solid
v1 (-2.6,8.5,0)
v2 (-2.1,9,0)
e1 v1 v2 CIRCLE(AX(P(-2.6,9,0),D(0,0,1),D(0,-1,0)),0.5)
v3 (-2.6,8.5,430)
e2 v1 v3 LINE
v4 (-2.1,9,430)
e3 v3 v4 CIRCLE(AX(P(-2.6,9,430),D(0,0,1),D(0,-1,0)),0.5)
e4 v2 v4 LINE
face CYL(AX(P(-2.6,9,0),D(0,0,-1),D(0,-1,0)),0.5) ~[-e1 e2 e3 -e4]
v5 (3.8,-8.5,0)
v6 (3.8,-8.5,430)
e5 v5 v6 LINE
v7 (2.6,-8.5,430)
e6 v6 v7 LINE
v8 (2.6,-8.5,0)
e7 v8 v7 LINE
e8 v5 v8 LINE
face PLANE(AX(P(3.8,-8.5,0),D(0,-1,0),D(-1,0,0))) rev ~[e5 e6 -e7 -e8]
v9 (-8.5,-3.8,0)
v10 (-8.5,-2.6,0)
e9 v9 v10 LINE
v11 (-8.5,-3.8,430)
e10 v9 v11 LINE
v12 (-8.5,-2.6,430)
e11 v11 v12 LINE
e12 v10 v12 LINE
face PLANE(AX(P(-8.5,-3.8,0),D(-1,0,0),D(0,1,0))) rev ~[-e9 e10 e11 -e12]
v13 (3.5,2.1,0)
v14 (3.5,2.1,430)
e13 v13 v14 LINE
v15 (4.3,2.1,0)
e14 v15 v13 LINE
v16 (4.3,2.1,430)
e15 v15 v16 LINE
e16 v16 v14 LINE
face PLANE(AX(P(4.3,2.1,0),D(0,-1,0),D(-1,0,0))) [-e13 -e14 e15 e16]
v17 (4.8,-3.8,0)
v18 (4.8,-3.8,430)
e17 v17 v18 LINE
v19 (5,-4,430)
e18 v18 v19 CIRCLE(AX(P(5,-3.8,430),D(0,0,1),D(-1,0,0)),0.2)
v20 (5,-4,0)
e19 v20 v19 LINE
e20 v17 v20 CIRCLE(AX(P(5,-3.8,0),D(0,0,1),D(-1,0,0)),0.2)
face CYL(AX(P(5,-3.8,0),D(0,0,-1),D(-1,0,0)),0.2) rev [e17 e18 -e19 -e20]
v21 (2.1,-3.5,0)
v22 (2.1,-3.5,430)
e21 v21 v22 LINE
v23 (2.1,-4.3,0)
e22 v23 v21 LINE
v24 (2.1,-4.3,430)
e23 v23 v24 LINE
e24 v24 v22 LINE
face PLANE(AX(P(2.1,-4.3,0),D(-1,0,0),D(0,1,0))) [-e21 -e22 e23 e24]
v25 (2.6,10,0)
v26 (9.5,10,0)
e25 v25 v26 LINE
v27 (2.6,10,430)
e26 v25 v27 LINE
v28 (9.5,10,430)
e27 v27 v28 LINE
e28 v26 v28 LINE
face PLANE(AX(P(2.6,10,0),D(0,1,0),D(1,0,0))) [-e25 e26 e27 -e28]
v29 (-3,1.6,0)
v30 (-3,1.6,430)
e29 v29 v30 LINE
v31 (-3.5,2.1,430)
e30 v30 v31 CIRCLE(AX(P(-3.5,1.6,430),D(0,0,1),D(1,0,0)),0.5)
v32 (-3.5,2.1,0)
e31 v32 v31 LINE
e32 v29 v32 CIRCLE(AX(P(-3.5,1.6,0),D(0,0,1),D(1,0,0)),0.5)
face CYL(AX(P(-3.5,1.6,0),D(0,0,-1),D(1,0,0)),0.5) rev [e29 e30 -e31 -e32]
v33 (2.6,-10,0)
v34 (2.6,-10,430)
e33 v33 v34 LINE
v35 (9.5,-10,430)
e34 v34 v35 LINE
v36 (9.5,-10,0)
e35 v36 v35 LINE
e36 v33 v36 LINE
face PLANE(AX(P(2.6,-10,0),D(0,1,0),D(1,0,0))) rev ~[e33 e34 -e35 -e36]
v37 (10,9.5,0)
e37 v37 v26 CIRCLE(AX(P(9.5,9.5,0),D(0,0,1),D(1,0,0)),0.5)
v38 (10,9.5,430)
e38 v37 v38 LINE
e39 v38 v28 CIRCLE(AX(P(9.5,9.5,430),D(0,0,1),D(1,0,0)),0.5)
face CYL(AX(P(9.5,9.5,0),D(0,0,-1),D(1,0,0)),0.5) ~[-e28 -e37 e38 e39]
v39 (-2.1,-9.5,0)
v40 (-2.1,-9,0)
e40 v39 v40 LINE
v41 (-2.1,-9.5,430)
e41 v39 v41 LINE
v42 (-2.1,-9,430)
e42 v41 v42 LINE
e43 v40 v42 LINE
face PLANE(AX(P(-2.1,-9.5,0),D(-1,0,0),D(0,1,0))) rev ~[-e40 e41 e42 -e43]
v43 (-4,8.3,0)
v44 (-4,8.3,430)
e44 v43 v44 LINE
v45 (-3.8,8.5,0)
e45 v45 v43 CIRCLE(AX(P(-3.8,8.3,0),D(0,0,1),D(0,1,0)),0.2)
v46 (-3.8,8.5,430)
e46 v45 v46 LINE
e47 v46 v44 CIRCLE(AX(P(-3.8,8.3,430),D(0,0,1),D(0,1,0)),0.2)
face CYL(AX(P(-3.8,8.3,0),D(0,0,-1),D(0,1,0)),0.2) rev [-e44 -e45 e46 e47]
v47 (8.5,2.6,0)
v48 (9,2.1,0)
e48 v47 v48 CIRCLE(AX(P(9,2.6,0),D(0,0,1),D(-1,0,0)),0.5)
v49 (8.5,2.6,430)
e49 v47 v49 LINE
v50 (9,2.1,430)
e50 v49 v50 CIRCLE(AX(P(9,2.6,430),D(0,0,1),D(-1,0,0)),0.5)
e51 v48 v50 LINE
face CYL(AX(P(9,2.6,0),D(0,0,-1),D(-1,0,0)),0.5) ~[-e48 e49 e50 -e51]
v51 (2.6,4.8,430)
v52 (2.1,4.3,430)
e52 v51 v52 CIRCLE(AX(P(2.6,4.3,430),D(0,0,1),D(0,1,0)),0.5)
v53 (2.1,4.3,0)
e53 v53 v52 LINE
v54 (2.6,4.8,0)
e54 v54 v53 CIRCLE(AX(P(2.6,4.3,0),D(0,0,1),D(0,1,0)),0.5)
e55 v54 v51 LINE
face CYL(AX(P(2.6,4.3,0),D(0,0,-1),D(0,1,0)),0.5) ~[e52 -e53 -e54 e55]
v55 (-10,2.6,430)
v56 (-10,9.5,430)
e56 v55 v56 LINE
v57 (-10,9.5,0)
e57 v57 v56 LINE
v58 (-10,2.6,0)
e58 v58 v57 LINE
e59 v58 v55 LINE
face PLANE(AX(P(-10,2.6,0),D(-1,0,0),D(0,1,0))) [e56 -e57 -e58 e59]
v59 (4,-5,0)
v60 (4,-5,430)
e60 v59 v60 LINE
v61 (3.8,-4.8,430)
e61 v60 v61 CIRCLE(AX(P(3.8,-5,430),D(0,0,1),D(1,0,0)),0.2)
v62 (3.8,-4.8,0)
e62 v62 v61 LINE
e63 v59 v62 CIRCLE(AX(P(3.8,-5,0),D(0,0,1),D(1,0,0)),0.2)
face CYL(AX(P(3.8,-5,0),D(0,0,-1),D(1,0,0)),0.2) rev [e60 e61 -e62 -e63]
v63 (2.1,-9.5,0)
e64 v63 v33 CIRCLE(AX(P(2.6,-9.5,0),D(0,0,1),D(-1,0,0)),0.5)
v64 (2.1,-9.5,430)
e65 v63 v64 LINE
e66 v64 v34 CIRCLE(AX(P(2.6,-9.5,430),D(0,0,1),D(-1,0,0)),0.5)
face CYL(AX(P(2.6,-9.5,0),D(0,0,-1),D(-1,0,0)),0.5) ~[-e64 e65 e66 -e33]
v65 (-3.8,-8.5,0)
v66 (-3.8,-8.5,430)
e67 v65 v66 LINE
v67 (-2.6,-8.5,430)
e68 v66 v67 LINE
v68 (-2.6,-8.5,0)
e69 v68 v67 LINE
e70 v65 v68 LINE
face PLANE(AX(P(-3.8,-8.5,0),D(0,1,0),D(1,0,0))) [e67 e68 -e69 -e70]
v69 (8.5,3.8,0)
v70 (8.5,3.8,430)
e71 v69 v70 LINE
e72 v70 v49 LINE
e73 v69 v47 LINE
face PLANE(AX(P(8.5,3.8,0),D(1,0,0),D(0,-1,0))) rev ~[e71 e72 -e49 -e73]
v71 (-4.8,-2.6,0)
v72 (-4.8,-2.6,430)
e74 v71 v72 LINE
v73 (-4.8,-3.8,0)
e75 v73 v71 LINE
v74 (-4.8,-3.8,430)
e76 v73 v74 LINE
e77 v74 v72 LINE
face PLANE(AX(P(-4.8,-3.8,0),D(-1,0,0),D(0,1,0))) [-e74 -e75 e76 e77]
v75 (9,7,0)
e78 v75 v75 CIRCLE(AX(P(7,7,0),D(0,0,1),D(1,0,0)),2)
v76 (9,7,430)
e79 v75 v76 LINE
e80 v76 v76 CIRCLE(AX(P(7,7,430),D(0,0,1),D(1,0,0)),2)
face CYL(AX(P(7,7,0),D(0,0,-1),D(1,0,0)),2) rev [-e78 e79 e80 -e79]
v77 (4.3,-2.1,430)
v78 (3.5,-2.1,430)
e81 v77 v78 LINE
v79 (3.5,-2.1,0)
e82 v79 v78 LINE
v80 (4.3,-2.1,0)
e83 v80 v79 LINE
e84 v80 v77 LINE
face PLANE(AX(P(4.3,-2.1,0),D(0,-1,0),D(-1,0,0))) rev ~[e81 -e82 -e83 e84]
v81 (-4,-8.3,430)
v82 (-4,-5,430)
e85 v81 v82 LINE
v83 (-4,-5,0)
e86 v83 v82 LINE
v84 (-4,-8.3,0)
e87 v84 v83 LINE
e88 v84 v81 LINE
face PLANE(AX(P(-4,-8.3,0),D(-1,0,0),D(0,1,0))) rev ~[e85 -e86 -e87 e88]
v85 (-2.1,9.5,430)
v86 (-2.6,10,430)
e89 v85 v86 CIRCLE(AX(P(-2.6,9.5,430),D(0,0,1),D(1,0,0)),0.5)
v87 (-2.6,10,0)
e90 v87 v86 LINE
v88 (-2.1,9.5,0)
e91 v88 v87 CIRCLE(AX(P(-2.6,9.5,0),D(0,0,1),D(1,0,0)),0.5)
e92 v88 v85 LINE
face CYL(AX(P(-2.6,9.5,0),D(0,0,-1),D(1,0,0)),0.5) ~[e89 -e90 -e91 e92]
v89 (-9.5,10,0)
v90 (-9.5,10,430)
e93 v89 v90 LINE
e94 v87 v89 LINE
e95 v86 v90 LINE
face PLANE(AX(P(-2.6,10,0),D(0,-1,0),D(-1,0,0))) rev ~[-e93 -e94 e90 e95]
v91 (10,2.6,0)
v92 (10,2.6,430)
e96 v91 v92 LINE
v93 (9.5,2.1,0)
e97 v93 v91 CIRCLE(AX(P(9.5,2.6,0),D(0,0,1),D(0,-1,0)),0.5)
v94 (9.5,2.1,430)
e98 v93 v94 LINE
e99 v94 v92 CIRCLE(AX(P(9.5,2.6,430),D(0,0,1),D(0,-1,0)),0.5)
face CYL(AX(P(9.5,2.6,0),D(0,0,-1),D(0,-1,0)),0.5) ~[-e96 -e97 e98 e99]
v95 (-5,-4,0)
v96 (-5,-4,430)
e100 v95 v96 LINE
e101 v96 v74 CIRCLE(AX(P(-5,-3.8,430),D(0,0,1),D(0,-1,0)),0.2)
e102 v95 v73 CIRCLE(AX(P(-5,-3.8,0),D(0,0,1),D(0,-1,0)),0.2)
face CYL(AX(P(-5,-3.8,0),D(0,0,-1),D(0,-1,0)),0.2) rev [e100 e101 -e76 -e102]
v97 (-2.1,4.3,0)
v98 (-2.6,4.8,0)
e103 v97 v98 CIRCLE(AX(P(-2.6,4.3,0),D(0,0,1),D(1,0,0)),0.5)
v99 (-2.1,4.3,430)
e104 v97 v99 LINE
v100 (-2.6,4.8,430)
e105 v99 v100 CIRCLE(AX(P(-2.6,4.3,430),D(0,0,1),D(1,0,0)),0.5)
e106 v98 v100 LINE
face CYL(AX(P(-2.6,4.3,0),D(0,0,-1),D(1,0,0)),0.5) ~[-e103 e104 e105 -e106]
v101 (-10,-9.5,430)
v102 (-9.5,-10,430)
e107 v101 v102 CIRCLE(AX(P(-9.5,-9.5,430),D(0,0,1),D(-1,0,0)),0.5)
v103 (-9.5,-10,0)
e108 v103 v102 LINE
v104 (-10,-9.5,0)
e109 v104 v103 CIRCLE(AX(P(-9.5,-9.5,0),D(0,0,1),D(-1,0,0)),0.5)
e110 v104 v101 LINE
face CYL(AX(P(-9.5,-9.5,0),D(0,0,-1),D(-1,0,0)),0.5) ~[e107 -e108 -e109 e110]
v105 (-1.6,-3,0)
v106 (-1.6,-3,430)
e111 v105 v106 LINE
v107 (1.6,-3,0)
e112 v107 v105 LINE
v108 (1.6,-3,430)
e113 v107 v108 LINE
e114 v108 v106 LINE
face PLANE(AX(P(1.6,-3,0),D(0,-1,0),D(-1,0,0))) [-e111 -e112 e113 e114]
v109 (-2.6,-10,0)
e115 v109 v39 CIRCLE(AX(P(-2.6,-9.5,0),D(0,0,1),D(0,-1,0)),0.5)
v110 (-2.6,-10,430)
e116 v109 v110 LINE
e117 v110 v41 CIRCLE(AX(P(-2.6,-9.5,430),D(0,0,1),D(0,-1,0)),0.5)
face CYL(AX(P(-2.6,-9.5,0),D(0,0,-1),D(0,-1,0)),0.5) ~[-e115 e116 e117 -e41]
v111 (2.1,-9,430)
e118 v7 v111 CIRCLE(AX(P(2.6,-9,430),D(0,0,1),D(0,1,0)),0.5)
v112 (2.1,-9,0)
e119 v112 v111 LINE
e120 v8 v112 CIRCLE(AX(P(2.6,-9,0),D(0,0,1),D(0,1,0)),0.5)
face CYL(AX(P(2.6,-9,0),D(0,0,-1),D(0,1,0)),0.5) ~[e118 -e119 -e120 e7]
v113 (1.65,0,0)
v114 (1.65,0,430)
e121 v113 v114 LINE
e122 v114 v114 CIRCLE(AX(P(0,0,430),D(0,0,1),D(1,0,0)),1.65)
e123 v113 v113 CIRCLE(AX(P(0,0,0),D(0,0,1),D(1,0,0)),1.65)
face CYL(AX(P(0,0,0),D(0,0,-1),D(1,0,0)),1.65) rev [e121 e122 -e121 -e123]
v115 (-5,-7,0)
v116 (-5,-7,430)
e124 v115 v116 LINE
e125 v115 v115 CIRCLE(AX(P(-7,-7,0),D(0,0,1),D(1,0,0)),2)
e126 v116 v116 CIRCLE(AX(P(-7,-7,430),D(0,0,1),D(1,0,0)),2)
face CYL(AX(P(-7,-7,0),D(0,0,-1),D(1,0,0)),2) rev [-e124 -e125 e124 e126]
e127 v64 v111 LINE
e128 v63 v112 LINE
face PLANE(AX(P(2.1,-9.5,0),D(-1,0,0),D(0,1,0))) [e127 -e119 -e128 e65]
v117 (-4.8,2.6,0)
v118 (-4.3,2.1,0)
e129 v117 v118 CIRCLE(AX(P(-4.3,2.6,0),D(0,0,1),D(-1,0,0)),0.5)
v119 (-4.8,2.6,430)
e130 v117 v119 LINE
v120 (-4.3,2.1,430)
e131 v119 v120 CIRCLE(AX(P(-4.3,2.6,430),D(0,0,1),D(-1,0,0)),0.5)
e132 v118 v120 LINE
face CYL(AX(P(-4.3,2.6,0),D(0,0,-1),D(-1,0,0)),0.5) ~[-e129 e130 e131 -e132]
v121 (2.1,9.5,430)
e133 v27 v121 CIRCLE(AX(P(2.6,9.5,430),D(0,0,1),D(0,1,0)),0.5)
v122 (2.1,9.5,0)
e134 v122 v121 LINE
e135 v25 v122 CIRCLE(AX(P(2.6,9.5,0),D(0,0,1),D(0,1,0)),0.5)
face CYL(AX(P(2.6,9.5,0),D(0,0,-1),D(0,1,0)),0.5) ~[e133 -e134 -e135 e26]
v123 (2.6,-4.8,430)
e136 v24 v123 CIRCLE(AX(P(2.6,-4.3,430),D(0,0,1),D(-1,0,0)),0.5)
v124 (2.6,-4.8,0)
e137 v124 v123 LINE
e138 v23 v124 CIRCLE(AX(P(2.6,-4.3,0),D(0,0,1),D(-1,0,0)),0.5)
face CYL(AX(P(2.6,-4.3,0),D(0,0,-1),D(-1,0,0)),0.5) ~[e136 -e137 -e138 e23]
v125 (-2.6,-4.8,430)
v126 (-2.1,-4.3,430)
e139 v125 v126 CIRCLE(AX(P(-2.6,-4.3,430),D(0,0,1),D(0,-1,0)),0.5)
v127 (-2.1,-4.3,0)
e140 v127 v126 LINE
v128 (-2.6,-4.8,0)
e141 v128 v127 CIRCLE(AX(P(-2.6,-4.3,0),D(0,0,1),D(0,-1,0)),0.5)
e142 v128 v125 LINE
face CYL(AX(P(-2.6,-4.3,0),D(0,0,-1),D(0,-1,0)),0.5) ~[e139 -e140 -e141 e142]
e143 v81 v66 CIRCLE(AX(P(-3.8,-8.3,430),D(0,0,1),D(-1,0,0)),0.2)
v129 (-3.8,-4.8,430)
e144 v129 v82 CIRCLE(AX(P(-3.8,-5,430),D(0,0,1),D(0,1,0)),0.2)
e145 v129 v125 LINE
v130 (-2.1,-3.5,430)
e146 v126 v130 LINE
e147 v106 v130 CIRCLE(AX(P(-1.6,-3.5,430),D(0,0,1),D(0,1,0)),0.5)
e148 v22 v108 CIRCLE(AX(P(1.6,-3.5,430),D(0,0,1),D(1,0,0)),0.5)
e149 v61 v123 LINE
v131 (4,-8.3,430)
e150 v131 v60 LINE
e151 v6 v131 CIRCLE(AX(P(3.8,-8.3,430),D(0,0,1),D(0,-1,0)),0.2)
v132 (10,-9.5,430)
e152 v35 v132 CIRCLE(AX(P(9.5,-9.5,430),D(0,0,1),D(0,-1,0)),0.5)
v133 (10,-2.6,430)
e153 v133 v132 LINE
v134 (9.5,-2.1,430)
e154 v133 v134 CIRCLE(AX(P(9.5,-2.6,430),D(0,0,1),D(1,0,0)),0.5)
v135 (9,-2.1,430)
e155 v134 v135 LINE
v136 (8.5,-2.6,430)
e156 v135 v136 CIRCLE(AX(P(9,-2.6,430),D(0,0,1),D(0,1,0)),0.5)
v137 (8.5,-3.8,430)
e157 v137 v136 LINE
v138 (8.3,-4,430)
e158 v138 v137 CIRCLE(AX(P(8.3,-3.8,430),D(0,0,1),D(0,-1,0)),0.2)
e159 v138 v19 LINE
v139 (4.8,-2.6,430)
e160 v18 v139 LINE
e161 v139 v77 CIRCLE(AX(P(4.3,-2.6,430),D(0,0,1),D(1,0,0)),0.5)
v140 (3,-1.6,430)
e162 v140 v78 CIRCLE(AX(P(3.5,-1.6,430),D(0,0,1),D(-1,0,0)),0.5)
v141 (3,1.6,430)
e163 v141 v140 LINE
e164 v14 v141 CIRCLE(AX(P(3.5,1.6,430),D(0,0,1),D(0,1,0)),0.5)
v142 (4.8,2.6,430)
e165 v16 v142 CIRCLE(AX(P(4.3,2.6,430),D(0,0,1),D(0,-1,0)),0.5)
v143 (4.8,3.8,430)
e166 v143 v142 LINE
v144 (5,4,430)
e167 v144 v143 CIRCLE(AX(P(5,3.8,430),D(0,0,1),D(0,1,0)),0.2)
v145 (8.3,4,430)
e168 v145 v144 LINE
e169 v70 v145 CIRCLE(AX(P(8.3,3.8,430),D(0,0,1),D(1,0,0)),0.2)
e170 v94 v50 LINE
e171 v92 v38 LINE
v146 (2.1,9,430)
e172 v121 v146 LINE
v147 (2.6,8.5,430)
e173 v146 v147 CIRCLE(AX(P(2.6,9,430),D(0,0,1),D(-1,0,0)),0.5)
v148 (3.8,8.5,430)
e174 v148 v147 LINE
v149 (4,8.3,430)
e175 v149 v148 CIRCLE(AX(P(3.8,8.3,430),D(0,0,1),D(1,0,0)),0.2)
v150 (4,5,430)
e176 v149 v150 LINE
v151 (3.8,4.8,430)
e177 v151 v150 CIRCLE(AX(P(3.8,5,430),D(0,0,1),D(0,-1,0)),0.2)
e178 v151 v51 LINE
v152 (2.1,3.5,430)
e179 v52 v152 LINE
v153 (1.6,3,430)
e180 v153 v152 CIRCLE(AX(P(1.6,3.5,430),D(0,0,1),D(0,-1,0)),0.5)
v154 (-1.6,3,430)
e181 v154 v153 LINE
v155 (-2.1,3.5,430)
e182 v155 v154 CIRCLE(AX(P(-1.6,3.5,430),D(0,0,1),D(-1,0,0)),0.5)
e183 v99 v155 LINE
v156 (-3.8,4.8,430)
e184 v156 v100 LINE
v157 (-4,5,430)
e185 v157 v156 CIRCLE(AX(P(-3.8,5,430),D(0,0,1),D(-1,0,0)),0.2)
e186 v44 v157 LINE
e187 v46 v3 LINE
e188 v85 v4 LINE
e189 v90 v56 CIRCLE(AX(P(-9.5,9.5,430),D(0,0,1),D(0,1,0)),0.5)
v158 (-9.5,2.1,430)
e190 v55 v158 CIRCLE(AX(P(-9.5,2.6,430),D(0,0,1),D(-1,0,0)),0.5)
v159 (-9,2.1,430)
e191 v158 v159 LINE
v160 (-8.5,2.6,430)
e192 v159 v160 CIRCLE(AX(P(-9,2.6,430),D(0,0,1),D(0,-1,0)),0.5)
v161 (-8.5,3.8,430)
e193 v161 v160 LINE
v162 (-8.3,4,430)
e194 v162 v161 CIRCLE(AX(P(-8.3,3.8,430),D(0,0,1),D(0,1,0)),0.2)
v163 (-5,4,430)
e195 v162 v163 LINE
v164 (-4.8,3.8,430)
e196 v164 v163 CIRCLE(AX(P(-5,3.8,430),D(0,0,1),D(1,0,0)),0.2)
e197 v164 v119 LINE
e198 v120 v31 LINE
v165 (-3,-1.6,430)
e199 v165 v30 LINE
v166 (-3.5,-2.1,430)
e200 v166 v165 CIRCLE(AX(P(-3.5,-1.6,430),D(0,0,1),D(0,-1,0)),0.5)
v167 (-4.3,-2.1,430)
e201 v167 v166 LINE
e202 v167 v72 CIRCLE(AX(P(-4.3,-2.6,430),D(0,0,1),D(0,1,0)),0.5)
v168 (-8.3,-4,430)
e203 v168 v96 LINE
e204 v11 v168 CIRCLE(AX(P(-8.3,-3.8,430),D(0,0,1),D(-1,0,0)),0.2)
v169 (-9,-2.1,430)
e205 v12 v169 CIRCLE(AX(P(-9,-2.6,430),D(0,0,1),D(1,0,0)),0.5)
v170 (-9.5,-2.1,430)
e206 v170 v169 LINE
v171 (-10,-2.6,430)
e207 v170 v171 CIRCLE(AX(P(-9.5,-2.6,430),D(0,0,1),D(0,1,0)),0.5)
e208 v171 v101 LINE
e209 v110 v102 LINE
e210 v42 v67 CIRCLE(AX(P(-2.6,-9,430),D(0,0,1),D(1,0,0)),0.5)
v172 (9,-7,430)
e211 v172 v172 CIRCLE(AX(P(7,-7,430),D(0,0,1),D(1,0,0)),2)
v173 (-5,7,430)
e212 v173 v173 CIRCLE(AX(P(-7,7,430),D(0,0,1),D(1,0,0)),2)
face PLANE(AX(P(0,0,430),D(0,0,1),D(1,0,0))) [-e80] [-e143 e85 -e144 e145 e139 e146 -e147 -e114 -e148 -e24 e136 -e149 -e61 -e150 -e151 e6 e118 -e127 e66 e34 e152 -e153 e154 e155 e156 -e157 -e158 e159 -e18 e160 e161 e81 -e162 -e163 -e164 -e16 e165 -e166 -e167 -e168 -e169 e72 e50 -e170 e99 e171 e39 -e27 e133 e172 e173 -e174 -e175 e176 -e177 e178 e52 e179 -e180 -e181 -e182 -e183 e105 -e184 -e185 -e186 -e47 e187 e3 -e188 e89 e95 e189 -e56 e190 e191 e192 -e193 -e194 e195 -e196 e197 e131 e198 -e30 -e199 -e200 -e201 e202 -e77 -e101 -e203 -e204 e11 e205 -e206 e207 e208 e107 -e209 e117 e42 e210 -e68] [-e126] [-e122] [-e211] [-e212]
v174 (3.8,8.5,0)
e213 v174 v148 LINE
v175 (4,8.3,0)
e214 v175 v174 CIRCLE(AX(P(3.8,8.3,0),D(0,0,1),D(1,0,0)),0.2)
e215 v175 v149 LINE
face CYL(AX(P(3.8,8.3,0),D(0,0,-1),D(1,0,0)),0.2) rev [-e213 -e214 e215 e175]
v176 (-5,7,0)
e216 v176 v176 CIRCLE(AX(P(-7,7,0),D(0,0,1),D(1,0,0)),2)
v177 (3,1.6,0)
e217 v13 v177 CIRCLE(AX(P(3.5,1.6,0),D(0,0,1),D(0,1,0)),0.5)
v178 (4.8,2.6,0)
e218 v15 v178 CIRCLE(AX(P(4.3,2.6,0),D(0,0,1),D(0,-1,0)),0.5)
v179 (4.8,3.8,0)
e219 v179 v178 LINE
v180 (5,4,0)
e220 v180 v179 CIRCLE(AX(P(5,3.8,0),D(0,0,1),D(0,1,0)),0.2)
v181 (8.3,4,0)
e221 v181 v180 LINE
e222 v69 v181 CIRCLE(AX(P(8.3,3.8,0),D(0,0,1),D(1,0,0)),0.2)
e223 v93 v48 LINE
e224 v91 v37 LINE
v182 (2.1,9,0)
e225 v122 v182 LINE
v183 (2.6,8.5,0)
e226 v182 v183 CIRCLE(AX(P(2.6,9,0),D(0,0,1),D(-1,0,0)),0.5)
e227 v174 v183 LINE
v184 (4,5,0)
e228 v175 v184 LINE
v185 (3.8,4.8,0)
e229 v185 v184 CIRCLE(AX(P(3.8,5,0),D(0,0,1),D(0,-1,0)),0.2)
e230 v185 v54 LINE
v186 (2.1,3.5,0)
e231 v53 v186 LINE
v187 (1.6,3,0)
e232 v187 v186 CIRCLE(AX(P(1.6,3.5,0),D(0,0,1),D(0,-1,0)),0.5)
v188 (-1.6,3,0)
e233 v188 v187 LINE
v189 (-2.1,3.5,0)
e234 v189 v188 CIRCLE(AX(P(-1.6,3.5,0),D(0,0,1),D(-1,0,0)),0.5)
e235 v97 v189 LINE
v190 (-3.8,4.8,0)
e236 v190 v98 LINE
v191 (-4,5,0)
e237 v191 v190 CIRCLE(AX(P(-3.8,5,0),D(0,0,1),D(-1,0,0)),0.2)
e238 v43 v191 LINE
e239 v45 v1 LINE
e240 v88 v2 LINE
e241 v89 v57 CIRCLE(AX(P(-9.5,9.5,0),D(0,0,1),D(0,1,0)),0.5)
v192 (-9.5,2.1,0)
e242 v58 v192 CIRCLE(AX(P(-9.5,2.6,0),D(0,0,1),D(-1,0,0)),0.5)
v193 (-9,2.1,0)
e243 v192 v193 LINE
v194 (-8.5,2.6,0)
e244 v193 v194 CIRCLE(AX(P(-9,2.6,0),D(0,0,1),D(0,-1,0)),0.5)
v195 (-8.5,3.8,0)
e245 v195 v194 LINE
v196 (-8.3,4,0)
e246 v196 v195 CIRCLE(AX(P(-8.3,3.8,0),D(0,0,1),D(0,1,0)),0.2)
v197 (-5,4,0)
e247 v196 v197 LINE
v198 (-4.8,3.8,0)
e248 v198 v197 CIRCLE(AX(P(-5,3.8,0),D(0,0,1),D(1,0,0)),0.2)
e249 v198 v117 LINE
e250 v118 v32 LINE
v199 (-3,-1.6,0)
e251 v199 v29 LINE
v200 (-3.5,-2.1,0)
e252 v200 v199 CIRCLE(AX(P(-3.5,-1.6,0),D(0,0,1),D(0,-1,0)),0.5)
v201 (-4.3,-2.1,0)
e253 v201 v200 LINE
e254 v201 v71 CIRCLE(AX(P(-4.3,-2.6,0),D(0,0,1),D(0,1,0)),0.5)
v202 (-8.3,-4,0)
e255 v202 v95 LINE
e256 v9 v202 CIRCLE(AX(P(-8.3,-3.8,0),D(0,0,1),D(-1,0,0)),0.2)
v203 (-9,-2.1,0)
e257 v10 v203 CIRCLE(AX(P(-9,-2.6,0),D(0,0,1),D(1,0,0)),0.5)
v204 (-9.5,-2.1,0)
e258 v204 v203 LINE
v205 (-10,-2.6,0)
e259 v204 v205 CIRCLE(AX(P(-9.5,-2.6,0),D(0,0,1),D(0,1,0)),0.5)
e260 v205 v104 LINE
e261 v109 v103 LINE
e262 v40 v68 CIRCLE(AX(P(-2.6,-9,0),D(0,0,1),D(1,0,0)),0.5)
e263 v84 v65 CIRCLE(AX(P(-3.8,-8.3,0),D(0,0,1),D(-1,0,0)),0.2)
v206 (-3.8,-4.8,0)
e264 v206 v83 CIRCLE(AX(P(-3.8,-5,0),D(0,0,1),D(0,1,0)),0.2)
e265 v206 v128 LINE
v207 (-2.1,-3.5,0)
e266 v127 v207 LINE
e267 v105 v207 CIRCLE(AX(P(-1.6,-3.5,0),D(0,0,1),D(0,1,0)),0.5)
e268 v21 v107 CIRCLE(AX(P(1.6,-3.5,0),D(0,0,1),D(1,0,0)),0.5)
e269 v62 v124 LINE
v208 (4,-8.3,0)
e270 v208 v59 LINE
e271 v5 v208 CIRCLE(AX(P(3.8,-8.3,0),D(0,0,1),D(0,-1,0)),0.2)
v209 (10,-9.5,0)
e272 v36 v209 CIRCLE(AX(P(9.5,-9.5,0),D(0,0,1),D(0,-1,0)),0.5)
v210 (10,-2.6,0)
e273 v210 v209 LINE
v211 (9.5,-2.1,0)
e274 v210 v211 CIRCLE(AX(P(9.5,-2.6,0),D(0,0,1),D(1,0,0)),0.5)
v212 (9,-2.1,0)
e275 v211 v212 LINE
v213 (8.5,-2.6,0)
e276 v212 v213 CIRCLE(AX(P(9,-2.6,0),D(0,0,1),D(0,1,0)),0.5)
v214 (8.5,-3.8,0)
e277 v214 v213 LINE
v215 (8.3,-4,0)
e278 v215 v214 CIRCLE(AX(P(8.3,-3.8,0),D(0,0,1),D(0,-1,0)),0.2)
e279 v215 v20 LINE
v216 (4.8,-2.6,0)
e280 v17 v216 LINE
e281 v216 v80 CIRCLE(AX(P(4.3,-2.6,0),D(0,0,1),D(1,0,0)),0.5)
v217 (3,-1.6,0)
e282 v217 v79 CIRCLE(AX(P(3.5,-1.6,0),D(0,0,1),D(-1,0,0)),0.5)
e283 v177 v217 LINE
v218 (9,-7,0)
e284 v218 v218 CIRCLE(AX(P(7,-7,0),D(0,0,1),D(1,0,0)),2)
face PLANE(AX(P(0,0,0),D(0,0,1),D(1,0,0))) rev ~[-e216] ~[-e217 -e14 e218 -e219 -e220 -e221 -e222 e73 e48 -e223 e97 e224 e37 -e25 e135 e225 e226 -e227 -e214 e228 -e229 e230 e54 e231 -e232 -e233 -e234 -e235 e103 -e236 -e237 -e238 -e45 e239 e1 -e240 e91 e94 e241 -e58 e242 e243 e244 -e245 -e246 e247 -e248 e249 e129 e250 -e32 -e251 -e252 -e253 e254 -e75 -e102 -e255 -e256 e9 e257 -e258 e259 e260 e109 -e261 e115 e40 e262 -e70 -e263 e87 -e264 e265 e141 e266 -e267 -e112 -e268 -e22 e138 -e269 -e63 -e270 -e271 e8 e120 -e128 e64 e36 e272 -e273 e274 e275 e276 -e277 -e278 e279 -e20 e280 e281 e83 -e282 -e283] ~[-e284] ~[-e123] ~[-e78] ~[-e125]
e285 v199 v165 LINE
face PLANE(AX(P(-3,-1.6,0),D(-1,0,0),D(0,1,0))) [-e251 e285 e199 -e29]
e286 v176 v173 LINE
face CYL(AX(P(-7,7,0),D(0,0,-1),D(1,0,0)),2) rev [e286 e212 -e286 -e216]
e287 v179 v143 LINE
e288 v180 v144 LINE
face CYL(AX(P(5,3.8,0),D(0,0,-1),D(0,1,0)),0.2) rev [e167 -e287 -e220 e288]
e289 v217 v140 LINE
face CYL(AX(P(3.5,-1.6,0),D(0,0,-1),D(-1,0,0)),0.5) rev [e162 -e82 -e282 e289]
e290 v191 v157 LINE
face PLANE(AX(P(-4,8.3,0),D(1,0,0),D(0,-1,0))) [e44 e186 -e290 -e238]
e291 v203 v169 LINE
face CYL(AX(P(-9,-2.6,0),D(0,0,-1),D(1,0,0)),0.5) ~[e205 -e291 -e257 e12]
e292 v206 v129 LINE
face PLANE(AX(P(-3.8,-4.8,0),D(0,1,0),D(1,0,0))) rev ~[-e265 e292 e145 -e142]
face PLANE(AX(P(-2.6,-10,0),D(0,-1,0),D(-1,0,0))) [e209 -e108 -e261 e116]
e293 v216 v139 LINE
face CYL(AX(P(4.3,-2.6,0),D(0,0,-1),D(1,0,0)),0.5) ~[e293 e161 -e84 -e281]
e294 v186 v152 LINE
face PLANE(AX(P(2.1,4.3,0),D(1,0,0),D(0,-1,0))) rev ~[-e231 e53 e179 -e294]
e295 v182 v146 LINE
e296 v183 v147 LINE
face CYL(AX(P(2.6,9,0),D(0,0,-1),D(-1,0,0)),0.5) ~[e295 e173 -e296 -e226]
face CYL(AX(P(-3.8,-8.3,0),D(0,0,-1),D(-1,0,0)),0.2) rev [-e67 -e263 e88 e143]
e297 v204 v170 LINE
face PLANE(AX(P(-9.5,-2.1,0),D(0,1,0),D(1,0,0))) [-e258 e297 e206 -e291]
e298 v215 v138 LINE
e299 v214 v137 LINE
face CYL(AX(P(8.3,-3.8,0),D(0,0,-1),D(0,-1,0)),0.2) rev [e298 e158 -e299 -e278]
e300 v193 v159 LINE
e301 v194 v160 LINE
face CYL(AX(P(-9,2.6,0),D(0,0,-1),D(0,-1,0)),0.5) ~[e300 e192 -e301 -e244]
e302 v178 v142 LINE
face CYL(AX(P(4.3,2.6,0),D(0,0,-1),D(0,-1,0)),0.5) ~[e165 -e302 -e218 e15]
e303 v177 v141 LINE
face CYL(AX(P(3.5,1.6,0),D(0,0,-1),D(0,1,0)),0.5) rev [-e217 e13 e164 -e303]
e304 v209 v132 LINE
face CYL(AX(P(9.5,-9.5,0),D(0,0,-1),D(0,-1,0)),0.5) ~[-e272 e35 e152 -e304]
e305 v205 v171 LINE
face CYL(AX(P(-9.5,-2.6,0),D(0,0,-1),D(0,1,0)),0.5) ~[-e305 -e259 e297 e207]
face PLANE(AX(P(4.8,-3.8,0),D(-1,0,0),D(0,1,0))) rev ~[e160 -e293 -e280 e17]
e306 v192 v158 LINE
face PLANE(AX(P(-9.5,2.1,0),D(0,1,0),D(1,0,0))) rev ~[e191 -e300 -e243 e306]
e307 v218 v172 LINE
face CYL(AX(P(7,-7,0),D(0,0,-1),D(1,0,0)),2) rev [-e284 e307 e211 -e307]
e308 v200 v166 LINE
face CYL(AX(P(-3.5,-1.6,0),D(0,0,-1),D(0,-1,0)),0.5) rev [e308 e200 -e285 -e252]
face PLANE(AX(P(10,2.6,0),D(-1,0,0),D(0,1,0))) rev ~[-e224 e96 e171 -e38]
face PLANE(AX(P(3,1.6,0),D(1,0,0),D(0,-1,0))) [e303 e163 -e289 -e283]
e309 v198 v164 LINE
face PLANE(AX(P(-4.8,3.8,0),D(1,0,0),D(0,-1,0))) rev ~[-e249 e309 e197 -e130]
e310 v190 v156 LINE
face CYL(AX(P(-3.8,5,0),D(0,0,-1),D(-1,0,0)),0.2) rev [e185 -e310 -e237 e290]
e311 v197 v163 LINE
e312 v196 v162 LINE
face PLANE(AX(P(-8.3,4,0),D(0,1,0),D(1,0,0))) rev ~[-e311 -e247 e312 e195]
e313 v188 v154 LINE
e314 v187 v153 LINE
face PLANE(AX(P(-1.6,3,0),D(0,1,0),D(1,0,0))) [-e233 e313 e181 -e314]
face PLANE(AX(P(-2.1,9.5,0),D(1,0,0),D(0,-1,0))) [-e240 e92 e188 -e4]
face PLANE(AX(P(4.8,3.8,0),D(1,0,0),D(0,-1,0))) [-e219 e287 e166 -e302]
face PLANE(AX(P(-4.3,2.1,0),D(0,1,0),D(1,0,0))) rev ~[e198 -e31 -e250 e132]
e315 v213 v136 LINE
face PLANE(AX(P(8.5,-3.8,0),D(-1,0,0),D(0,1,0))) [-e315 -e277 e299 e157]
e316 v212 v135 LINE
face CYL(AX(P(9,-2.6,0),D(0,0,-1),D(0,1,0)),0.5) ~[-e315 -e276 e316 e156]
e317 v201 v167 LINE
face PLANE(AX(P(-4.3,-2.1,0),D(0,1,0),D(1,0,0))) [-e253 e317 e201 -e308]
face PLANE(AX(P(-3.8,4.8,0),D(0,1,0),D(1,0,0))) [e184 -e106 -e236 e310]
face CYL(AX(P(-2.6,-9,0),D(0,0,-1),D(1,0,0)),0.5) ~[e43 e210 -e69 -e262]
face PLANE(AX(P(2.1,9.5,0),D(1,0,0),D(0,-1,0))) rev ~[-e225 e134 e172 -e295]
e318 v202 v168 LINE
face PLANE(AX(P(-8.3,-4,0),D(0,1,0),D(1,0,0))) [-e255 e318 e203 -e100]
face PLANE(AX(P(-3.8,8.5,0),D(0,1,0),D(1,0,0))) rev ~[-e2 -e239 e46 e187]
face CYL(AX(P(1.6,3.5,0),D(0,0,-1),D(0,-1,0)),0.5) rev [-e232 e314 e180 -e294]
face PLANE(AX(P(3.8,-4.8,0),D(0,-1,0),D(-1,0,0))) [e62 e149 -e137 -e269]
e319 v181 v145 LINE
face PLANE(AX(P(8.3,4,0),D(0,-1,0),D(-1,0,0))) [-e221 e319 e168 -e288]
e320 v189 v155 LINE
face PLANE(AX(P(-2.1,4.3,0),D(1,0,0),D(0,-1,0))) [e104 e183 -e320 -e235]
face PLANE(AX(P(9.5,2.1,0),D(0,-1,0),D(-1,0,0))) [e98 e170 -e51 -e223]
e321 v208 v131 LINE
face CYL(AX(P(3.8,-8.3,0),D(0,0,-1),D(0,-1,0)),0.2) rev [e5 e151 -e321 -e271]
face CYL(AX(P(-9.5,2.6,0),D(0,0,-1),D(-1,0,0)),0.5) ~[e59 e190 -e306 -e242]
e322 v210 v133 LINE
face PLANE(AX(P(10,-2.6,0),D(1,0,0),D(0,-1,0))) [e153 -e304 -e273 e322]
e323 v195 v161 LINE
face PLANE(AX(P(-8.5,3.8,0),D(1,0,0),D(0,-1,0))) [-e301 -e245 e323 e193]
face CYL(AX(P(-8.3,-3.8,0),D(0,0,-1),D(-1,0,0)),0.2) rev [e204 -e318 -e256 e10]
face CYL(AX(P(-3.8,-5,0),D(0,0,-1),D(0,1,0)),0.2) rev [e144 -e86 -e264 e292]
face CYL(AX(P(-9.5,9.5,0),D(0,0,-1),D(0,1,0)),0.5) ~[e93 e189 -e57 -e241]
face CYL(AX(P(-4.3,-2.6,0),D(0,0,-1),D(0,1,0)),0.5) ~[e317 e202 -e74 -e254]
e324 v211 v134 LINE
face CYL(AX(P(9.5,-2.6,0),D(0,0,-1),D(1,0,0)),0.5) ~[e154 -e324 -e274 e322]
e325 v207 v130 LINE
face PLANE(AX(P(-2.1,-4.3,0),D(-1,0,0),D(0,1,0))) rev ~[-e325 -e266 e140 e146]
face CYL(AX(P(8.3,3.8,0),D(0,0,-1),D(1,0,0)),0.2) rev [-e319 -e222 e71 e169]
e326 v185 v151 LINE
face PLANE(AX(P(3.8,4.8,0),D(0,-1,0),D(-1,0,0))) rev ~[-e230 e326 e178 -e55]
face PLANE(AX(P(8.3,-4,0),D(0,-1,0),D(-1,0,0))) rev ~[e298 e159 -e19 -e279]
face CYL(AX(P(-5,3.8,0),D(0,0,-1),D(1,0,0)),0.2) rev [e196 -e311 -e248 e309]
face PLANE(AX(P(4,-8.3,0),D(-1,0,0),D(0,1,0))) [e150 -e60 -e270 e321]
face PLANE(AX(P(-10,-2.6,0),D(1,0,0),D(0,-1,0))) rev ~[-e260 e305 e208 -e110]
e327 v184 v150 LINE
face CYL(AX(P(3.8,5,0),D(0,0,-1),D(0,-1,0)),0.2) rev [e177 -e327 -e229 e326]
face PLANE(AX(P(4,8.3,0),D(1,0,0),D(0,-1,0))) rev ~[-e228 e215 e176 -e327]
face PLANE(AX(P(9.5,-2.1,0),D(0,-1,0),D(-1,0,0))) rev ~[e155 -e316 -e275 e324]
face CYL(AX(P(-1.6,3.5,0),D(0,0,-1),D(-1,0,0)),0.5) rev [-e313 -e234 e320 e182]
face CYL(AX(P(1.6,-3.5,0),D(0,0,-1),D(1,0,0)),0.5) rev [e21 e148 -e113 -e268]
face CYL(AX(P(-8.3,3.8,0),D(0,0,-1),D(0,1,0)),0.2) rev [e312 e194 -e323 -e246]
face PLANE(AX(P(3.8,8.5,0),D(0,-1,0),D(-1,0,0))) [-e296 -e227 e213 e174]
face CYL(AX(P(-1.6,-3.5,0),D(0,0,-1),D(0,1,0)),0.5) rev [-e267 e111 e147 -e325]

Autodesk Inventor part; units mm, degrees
ref_plane "YZ Plane" through (0, 0, 0) normal (1, 0, 0) x (0, 1, 0)
ref_plane "XZ Plane" through (0, 0, 0) normal (0, 1, 0) x (-1, 0, 0)
ref_plane "XY Plane" through (0, 0, 0) normal (0, 0, 1) x (1, 0, 0)
sketch "BaseS" plane through (0, 0, 0) normal (0, 0, 1) x (1, 0, 0)
  line L0 (8.5, -3.8) -> (8.5, -2.6)
  line L1 (4, -8.3) -> (4, -5)
  circle A0 centre (7, -7) radius 2
  line L2 (10, -2.6) -> (10, -9.5)
  line L3 (2.6, -10) -> (9.5, -10)
  line L4 (2.1, -9.5) -> (2.1, -9)
  line L5 (8.5, -2.6) -> (8.5, -3.8)
  line L6 (3.8, -4.8) -> (2.6, -4.8)
  line L7 (4.8, -3.8) -> (4.8, -2.6)
  arc A1 (2.1, -4.3) -> (2.6, -4.8) centre (2.6, -4.3) ccw
  arc A2 (2.6, -8.5) -> (2.1, -9) centre (2.6, -9) ccw
  arc A3 (3.8, -8.5) -> (4, -8.3) centre (3.8, -8.3) ccw
  arc A4 (4, -5) -> (3.8, -4.8) centre (3.8, -5) ccw
  arc A5 (2.1, -3.5) -> (1.6, -3) centre (1.6, -3.5) ccw
  arc A6 (2.1, -9.5) -> (2.6, -10) centre (2.6, -9.5) ccw
  arc A7 (9.5, -10) -> (10, -9.5) centre (9.5, -9.5) ccw
  arc A8 (10, -2.6) -> (9.5, -2.1) centre (9.5, -2.6) ccw
  arc A9 (9, -2.1) -> (8.5, -2.6) centre (9, -2.6) ccw
  arc A10 (8.3, -4) -> (8.5, -3.8) centre (8.3, -3.8) ccw
  arc A11 (4.8, -3.8) -> (5, -4) centre (5, -3.8) ccw
  line L8 (4.3, -2.1) -> (3.5, -2.1)
  arc A12 (4.8, -2.6) -> (4.3, -2.1) centre (4.3, -2.6) ccw
  arc A13 (3, -1.6) -> (3.5, -2.1) centre (3.5, -1.6) ccw
  line L9 (2.1, -4.3) -> (2.1, -3.5)
  line L10 (3.8, -8.5) -> (2.6, -8.5)
  line L11 (9.5, -2.1) -> (9, -2.1)
  line L12 (8.3, -4) -> (5, -4)
  circle A14 centre (0, 0) radius 1.65
  arc A15 (8.5, 2.6) -> (9, 2.1) centre (9, 2.6) ccw
  line L13 (8.5, 3.8) -> (8.5, 2.6)
  arc A16 (8.5, 3.8) -> (8.3, 4) centre (8.3, 3.8) ccw
  line L14 (8.3, 4) -> (5, 4)
  line L15 (10, 2.6) -> (10, 9.5)
  arc A17 (10, 9.5) -> (9.5, 10) centre (9.5, 9.5) ccw
  circle A18 centre (7, 7) radius 2
  line L16 (4, 8.3) -> (4, 5)
  line L17 (2.6, 10) -> (9.5, 10)
  line L18 (9.5, 2.1) -> (9, 2.1)
  arc A19 (9.5, 2.1) -> (10, 2.6) centre (9.5, 2.6) ccw
  line L19 (3.8, 8.5) -> (2.6, 8.5)
  line L20 (4.8, 3.8) -> (4.8, 2.6)
  arc A20 (4.3, 2.1) -> (4.8, 2.6) centre (4.3, 2.6) ccw
  line L21 (2.6, 8.5) -> (3.8, 8.5)
  arc A21 (4, 8.3) -> (3.8, 8.5) centre (3.8, 8.3) ccw
  arc A22 (2.1, 9) -> (2.6, 8.5) centre (2.6, 9) ccw
  arc A23 (2.6, 10) -> (2.1, 9.5) centre (2.6, 9.5) ccw
  line L22 (2.1, 9.5) -> (2.1, 9)
  arc A24 (1.6, 3) -> (2.1, 3.5) centre (1.6, 3.5) ccw
  line L23 (3.8, 4.8) -> (2.6, 4.8)
  arc A25 (5, 4) -> (4.8, 3.8) centre (5, 3.8) ccw
  arc A26 (3.8, 4.8) -> (4, 5) centre (3.8, 5) ccw
  line L24 (4.3, 2.1) -> (3.5, 2.1)
  arc A27 (2.6, 4.8) -> (2.1, 4.3) centre (2.6, 4.3) ccw
  line L25 (2.1, 4.3) -> (2.1, 3.5)
  arc A28 (3.5, 2.1) -> (3, 1.6) centre (3.5, 1.6) ccw
  arc A29 (-2.6, 8.5) -> (-2.1, 9) centre (-2.6, 9) ccw
  line L26 (-3.8, 8.5) -> (-2.6, 8.5)
  arc A30 (-3.8, 8.5) -> (-4, 8.3) centre (-3.8, 8.3) ccw
  line L27 (-4, 8.3) -> (-4, 5)
  line L28 (-2.6, 10) -> (-9.5, 10)
  arc A31 (-9.5, 10) -> (-10, 9.5) centre (-9.5, 9.5) ccw
  circle A32 centre (-7, 7) radius 2
  line L29 (-8.3, 4) -> (-5, 4)
  line L30 (-10, 2.6) -> (-10, 9.5)
  line L31 (-2.1, 9.5) -> (-2.1, 9)
  arc A33 (-2.1, 9.5) -> (-2.6, 10) centre (-2.6, 9.5) ccw
  line L32 (-8.5, 3.8) -> (-8.5, 2.6)
  line L33 (-3.8, 4.8) -> (-2.6, 4.8)
  arc A34 (-2.1, 4.3) -> (-2.6, 4.8) centre (-2.6, 4.3) ccw
  line L34 (-8.5, 2.6) -> (-8.5, 3.8)
  arc A35 (-8.3, 4) -> (-8.5, 3.8) centre (-8.3, 3.8) ccw
  arc A36 (-9, 2.1) -> (-8.5, 2.6) centre (-9, 2.6) ccw
  arc A37 (-10, 2.6) -> (-9.5, 2.1) centre (-9.5, 2.6) ccw
  line L35 (-9.5, 2.1) -> (-9, 2.1)
  arc A38 (-3, 1.6) -> (-3.5, 2.1) centre (-3.5, 1.6) ccw
  line L36 (-4.8, 3.8) -> (-4.8, 2.6)
  arc A39 (-4, 5) -> (-3.8, 4.8) centre (-3.8, 5) ccw
  arc A40 (-4.8, 3.8) -> (-5, 4) centre (-5, 3.8) ccw
  line L37 (-2.1, 4.3) -> (-2.1, 3.5)
  arc A41 (-4.8, 2.6) -> (-4.3, 2.1) centre (-4.3, 2.6) ccw
  line L38 (-4.3, 2.1) -> (-3.5, 2.1)
  arc A42 (-2.1, 3.5) -> (-1.6, 3) centre (-1.6, 3.5) ccw
  arc A43 (-8.5, -2.6) -> (-9, -2.1) centre (-9, -2.6) ccw
  line L39 (-8.5, -3.8) -> (-8.5, -2.6)
  arc A44 (-8.5, -3.8) -> (-8.3, -4) centre (-8.3, -3.8) ccw
  line L40 (-8.3, -4) -> (-5, -4)
  line L41 (-10, -2.6) -> (-10, -9.5)
  arc A45 (-10, -9.5) -> (-9.5, -10) centre (-9.5, -9.5) ccw
  circle A46 centre (-7, -7) radius 2
  line L42 (-4, -8.3) -> (-4, -5)
  line L43 (-2.6, -10) -> (-9.5, -10)
  line L44 (-9.5, -2.1) -> (-9, -2.1)
  arc A47 (-9.5, -2.1) -> (-10, -2.6) centre (-9.5, -2.6) ccw
  line L45 (-3.8, -8.5) -> (-2.6, -8.5)
  line L46 (-4.8, -3.8) -> (-4.8, -2.6)
  arc A48 (-4.3, -2.1) -> (-4.8, -2.6) centre (-4.3, -2.6) ccw
  line L47 (-2.6, -8.5) -> (-3.8, -8.5)
  arc A49 (-4, -8.3) -> (-3.8, -8.5) centre (-3.8, -8.3) ccw
  arc A50 (-2.1, -9) -> (-2.6, -8.5) centre (-2.6, -9) ccw
  arc A51 (-2.6, -10) -> (-2.1, -9.5) centre (-2.6, -9.5) ccw
  line L48 (-2.1, -9.5) -> (-2.1, -9)
  arc A52 (-1.6, -3) -> (-2.1, -3.5) centre (-1.6, -3.5) ccw
  line L49 (-3.8, -4.8) -> (-2.6, -4.8)
  arc A53 (-5, -4) -> (-4.8, -3.8) centre (-5, -3.8) ccw
  arc A54 (-3.8, -4.8) -> (-4, -5) centre (-3.8, -5) ccw
  line L50 (-4.3, -2.1) -> (-3.5, -2.1)
  arc A55 (-2.6, -4.8) -> (-2.1, -4.3) centre (-2.6, -4.3) ccw
  line L51 (-2.1, -4.3) -> (-2.1, -3.5)
  arc A56 (-3.5, -2.1) -> (-3, -1.6) centre (-3.5, -1.6) ccw
  line L52 (1.6, -3) -> (-1.6, -3)
  line L53 (-3, -1.6) -> (-3, 1.6)
  line L54 (-1.6, 3) -> (1.6, 3)
  line L55 (3, 1.6) -> (3, -1.6)
  point P0 (2.1, -10)
  point P1 (10, 2.1)
  point P2 (-2.1, 10)
  point P3 (-10, -2.1)
  dimension "d2" = 4
  dimension "d3" = 3.7
  dimension "d4" = 0.5
  dimension "d5" = 0.5
  dimension "d6" = 0.2
  dimension "d7" = 0.5
  dimension "d8" = 0.5
  dimension "d9" = 0.5
  dimension "d10" = 0.2
  dimension "d11" = 0.5
  dimension "d12" = 1.5
  dimension "d13" = 3.7
  dimension "d14" = 1.5
  dimension "d15" = 3.3
  dimension "d16" = 10
  dimension "d17" = 2.1
  dimension "d18" = 2.1
  dimension "d19" = 1.9
  dimension "d20" = 7
  dimension "d21" = 2.1
  dimension "d22" = 2.1
  dimension "d23" = 1.9
  dimension "d24" = 7
  dimension "d25" = 10
  dimension "d26" = 360
  dimension "d27" = 3
extrude "押し出し1" add sketch "BaseS" along normal blind 430
equation "\"d28\" = L"
equation "\"L\" = 430"
properties part number "S200" material "アルミニウム 6061"
